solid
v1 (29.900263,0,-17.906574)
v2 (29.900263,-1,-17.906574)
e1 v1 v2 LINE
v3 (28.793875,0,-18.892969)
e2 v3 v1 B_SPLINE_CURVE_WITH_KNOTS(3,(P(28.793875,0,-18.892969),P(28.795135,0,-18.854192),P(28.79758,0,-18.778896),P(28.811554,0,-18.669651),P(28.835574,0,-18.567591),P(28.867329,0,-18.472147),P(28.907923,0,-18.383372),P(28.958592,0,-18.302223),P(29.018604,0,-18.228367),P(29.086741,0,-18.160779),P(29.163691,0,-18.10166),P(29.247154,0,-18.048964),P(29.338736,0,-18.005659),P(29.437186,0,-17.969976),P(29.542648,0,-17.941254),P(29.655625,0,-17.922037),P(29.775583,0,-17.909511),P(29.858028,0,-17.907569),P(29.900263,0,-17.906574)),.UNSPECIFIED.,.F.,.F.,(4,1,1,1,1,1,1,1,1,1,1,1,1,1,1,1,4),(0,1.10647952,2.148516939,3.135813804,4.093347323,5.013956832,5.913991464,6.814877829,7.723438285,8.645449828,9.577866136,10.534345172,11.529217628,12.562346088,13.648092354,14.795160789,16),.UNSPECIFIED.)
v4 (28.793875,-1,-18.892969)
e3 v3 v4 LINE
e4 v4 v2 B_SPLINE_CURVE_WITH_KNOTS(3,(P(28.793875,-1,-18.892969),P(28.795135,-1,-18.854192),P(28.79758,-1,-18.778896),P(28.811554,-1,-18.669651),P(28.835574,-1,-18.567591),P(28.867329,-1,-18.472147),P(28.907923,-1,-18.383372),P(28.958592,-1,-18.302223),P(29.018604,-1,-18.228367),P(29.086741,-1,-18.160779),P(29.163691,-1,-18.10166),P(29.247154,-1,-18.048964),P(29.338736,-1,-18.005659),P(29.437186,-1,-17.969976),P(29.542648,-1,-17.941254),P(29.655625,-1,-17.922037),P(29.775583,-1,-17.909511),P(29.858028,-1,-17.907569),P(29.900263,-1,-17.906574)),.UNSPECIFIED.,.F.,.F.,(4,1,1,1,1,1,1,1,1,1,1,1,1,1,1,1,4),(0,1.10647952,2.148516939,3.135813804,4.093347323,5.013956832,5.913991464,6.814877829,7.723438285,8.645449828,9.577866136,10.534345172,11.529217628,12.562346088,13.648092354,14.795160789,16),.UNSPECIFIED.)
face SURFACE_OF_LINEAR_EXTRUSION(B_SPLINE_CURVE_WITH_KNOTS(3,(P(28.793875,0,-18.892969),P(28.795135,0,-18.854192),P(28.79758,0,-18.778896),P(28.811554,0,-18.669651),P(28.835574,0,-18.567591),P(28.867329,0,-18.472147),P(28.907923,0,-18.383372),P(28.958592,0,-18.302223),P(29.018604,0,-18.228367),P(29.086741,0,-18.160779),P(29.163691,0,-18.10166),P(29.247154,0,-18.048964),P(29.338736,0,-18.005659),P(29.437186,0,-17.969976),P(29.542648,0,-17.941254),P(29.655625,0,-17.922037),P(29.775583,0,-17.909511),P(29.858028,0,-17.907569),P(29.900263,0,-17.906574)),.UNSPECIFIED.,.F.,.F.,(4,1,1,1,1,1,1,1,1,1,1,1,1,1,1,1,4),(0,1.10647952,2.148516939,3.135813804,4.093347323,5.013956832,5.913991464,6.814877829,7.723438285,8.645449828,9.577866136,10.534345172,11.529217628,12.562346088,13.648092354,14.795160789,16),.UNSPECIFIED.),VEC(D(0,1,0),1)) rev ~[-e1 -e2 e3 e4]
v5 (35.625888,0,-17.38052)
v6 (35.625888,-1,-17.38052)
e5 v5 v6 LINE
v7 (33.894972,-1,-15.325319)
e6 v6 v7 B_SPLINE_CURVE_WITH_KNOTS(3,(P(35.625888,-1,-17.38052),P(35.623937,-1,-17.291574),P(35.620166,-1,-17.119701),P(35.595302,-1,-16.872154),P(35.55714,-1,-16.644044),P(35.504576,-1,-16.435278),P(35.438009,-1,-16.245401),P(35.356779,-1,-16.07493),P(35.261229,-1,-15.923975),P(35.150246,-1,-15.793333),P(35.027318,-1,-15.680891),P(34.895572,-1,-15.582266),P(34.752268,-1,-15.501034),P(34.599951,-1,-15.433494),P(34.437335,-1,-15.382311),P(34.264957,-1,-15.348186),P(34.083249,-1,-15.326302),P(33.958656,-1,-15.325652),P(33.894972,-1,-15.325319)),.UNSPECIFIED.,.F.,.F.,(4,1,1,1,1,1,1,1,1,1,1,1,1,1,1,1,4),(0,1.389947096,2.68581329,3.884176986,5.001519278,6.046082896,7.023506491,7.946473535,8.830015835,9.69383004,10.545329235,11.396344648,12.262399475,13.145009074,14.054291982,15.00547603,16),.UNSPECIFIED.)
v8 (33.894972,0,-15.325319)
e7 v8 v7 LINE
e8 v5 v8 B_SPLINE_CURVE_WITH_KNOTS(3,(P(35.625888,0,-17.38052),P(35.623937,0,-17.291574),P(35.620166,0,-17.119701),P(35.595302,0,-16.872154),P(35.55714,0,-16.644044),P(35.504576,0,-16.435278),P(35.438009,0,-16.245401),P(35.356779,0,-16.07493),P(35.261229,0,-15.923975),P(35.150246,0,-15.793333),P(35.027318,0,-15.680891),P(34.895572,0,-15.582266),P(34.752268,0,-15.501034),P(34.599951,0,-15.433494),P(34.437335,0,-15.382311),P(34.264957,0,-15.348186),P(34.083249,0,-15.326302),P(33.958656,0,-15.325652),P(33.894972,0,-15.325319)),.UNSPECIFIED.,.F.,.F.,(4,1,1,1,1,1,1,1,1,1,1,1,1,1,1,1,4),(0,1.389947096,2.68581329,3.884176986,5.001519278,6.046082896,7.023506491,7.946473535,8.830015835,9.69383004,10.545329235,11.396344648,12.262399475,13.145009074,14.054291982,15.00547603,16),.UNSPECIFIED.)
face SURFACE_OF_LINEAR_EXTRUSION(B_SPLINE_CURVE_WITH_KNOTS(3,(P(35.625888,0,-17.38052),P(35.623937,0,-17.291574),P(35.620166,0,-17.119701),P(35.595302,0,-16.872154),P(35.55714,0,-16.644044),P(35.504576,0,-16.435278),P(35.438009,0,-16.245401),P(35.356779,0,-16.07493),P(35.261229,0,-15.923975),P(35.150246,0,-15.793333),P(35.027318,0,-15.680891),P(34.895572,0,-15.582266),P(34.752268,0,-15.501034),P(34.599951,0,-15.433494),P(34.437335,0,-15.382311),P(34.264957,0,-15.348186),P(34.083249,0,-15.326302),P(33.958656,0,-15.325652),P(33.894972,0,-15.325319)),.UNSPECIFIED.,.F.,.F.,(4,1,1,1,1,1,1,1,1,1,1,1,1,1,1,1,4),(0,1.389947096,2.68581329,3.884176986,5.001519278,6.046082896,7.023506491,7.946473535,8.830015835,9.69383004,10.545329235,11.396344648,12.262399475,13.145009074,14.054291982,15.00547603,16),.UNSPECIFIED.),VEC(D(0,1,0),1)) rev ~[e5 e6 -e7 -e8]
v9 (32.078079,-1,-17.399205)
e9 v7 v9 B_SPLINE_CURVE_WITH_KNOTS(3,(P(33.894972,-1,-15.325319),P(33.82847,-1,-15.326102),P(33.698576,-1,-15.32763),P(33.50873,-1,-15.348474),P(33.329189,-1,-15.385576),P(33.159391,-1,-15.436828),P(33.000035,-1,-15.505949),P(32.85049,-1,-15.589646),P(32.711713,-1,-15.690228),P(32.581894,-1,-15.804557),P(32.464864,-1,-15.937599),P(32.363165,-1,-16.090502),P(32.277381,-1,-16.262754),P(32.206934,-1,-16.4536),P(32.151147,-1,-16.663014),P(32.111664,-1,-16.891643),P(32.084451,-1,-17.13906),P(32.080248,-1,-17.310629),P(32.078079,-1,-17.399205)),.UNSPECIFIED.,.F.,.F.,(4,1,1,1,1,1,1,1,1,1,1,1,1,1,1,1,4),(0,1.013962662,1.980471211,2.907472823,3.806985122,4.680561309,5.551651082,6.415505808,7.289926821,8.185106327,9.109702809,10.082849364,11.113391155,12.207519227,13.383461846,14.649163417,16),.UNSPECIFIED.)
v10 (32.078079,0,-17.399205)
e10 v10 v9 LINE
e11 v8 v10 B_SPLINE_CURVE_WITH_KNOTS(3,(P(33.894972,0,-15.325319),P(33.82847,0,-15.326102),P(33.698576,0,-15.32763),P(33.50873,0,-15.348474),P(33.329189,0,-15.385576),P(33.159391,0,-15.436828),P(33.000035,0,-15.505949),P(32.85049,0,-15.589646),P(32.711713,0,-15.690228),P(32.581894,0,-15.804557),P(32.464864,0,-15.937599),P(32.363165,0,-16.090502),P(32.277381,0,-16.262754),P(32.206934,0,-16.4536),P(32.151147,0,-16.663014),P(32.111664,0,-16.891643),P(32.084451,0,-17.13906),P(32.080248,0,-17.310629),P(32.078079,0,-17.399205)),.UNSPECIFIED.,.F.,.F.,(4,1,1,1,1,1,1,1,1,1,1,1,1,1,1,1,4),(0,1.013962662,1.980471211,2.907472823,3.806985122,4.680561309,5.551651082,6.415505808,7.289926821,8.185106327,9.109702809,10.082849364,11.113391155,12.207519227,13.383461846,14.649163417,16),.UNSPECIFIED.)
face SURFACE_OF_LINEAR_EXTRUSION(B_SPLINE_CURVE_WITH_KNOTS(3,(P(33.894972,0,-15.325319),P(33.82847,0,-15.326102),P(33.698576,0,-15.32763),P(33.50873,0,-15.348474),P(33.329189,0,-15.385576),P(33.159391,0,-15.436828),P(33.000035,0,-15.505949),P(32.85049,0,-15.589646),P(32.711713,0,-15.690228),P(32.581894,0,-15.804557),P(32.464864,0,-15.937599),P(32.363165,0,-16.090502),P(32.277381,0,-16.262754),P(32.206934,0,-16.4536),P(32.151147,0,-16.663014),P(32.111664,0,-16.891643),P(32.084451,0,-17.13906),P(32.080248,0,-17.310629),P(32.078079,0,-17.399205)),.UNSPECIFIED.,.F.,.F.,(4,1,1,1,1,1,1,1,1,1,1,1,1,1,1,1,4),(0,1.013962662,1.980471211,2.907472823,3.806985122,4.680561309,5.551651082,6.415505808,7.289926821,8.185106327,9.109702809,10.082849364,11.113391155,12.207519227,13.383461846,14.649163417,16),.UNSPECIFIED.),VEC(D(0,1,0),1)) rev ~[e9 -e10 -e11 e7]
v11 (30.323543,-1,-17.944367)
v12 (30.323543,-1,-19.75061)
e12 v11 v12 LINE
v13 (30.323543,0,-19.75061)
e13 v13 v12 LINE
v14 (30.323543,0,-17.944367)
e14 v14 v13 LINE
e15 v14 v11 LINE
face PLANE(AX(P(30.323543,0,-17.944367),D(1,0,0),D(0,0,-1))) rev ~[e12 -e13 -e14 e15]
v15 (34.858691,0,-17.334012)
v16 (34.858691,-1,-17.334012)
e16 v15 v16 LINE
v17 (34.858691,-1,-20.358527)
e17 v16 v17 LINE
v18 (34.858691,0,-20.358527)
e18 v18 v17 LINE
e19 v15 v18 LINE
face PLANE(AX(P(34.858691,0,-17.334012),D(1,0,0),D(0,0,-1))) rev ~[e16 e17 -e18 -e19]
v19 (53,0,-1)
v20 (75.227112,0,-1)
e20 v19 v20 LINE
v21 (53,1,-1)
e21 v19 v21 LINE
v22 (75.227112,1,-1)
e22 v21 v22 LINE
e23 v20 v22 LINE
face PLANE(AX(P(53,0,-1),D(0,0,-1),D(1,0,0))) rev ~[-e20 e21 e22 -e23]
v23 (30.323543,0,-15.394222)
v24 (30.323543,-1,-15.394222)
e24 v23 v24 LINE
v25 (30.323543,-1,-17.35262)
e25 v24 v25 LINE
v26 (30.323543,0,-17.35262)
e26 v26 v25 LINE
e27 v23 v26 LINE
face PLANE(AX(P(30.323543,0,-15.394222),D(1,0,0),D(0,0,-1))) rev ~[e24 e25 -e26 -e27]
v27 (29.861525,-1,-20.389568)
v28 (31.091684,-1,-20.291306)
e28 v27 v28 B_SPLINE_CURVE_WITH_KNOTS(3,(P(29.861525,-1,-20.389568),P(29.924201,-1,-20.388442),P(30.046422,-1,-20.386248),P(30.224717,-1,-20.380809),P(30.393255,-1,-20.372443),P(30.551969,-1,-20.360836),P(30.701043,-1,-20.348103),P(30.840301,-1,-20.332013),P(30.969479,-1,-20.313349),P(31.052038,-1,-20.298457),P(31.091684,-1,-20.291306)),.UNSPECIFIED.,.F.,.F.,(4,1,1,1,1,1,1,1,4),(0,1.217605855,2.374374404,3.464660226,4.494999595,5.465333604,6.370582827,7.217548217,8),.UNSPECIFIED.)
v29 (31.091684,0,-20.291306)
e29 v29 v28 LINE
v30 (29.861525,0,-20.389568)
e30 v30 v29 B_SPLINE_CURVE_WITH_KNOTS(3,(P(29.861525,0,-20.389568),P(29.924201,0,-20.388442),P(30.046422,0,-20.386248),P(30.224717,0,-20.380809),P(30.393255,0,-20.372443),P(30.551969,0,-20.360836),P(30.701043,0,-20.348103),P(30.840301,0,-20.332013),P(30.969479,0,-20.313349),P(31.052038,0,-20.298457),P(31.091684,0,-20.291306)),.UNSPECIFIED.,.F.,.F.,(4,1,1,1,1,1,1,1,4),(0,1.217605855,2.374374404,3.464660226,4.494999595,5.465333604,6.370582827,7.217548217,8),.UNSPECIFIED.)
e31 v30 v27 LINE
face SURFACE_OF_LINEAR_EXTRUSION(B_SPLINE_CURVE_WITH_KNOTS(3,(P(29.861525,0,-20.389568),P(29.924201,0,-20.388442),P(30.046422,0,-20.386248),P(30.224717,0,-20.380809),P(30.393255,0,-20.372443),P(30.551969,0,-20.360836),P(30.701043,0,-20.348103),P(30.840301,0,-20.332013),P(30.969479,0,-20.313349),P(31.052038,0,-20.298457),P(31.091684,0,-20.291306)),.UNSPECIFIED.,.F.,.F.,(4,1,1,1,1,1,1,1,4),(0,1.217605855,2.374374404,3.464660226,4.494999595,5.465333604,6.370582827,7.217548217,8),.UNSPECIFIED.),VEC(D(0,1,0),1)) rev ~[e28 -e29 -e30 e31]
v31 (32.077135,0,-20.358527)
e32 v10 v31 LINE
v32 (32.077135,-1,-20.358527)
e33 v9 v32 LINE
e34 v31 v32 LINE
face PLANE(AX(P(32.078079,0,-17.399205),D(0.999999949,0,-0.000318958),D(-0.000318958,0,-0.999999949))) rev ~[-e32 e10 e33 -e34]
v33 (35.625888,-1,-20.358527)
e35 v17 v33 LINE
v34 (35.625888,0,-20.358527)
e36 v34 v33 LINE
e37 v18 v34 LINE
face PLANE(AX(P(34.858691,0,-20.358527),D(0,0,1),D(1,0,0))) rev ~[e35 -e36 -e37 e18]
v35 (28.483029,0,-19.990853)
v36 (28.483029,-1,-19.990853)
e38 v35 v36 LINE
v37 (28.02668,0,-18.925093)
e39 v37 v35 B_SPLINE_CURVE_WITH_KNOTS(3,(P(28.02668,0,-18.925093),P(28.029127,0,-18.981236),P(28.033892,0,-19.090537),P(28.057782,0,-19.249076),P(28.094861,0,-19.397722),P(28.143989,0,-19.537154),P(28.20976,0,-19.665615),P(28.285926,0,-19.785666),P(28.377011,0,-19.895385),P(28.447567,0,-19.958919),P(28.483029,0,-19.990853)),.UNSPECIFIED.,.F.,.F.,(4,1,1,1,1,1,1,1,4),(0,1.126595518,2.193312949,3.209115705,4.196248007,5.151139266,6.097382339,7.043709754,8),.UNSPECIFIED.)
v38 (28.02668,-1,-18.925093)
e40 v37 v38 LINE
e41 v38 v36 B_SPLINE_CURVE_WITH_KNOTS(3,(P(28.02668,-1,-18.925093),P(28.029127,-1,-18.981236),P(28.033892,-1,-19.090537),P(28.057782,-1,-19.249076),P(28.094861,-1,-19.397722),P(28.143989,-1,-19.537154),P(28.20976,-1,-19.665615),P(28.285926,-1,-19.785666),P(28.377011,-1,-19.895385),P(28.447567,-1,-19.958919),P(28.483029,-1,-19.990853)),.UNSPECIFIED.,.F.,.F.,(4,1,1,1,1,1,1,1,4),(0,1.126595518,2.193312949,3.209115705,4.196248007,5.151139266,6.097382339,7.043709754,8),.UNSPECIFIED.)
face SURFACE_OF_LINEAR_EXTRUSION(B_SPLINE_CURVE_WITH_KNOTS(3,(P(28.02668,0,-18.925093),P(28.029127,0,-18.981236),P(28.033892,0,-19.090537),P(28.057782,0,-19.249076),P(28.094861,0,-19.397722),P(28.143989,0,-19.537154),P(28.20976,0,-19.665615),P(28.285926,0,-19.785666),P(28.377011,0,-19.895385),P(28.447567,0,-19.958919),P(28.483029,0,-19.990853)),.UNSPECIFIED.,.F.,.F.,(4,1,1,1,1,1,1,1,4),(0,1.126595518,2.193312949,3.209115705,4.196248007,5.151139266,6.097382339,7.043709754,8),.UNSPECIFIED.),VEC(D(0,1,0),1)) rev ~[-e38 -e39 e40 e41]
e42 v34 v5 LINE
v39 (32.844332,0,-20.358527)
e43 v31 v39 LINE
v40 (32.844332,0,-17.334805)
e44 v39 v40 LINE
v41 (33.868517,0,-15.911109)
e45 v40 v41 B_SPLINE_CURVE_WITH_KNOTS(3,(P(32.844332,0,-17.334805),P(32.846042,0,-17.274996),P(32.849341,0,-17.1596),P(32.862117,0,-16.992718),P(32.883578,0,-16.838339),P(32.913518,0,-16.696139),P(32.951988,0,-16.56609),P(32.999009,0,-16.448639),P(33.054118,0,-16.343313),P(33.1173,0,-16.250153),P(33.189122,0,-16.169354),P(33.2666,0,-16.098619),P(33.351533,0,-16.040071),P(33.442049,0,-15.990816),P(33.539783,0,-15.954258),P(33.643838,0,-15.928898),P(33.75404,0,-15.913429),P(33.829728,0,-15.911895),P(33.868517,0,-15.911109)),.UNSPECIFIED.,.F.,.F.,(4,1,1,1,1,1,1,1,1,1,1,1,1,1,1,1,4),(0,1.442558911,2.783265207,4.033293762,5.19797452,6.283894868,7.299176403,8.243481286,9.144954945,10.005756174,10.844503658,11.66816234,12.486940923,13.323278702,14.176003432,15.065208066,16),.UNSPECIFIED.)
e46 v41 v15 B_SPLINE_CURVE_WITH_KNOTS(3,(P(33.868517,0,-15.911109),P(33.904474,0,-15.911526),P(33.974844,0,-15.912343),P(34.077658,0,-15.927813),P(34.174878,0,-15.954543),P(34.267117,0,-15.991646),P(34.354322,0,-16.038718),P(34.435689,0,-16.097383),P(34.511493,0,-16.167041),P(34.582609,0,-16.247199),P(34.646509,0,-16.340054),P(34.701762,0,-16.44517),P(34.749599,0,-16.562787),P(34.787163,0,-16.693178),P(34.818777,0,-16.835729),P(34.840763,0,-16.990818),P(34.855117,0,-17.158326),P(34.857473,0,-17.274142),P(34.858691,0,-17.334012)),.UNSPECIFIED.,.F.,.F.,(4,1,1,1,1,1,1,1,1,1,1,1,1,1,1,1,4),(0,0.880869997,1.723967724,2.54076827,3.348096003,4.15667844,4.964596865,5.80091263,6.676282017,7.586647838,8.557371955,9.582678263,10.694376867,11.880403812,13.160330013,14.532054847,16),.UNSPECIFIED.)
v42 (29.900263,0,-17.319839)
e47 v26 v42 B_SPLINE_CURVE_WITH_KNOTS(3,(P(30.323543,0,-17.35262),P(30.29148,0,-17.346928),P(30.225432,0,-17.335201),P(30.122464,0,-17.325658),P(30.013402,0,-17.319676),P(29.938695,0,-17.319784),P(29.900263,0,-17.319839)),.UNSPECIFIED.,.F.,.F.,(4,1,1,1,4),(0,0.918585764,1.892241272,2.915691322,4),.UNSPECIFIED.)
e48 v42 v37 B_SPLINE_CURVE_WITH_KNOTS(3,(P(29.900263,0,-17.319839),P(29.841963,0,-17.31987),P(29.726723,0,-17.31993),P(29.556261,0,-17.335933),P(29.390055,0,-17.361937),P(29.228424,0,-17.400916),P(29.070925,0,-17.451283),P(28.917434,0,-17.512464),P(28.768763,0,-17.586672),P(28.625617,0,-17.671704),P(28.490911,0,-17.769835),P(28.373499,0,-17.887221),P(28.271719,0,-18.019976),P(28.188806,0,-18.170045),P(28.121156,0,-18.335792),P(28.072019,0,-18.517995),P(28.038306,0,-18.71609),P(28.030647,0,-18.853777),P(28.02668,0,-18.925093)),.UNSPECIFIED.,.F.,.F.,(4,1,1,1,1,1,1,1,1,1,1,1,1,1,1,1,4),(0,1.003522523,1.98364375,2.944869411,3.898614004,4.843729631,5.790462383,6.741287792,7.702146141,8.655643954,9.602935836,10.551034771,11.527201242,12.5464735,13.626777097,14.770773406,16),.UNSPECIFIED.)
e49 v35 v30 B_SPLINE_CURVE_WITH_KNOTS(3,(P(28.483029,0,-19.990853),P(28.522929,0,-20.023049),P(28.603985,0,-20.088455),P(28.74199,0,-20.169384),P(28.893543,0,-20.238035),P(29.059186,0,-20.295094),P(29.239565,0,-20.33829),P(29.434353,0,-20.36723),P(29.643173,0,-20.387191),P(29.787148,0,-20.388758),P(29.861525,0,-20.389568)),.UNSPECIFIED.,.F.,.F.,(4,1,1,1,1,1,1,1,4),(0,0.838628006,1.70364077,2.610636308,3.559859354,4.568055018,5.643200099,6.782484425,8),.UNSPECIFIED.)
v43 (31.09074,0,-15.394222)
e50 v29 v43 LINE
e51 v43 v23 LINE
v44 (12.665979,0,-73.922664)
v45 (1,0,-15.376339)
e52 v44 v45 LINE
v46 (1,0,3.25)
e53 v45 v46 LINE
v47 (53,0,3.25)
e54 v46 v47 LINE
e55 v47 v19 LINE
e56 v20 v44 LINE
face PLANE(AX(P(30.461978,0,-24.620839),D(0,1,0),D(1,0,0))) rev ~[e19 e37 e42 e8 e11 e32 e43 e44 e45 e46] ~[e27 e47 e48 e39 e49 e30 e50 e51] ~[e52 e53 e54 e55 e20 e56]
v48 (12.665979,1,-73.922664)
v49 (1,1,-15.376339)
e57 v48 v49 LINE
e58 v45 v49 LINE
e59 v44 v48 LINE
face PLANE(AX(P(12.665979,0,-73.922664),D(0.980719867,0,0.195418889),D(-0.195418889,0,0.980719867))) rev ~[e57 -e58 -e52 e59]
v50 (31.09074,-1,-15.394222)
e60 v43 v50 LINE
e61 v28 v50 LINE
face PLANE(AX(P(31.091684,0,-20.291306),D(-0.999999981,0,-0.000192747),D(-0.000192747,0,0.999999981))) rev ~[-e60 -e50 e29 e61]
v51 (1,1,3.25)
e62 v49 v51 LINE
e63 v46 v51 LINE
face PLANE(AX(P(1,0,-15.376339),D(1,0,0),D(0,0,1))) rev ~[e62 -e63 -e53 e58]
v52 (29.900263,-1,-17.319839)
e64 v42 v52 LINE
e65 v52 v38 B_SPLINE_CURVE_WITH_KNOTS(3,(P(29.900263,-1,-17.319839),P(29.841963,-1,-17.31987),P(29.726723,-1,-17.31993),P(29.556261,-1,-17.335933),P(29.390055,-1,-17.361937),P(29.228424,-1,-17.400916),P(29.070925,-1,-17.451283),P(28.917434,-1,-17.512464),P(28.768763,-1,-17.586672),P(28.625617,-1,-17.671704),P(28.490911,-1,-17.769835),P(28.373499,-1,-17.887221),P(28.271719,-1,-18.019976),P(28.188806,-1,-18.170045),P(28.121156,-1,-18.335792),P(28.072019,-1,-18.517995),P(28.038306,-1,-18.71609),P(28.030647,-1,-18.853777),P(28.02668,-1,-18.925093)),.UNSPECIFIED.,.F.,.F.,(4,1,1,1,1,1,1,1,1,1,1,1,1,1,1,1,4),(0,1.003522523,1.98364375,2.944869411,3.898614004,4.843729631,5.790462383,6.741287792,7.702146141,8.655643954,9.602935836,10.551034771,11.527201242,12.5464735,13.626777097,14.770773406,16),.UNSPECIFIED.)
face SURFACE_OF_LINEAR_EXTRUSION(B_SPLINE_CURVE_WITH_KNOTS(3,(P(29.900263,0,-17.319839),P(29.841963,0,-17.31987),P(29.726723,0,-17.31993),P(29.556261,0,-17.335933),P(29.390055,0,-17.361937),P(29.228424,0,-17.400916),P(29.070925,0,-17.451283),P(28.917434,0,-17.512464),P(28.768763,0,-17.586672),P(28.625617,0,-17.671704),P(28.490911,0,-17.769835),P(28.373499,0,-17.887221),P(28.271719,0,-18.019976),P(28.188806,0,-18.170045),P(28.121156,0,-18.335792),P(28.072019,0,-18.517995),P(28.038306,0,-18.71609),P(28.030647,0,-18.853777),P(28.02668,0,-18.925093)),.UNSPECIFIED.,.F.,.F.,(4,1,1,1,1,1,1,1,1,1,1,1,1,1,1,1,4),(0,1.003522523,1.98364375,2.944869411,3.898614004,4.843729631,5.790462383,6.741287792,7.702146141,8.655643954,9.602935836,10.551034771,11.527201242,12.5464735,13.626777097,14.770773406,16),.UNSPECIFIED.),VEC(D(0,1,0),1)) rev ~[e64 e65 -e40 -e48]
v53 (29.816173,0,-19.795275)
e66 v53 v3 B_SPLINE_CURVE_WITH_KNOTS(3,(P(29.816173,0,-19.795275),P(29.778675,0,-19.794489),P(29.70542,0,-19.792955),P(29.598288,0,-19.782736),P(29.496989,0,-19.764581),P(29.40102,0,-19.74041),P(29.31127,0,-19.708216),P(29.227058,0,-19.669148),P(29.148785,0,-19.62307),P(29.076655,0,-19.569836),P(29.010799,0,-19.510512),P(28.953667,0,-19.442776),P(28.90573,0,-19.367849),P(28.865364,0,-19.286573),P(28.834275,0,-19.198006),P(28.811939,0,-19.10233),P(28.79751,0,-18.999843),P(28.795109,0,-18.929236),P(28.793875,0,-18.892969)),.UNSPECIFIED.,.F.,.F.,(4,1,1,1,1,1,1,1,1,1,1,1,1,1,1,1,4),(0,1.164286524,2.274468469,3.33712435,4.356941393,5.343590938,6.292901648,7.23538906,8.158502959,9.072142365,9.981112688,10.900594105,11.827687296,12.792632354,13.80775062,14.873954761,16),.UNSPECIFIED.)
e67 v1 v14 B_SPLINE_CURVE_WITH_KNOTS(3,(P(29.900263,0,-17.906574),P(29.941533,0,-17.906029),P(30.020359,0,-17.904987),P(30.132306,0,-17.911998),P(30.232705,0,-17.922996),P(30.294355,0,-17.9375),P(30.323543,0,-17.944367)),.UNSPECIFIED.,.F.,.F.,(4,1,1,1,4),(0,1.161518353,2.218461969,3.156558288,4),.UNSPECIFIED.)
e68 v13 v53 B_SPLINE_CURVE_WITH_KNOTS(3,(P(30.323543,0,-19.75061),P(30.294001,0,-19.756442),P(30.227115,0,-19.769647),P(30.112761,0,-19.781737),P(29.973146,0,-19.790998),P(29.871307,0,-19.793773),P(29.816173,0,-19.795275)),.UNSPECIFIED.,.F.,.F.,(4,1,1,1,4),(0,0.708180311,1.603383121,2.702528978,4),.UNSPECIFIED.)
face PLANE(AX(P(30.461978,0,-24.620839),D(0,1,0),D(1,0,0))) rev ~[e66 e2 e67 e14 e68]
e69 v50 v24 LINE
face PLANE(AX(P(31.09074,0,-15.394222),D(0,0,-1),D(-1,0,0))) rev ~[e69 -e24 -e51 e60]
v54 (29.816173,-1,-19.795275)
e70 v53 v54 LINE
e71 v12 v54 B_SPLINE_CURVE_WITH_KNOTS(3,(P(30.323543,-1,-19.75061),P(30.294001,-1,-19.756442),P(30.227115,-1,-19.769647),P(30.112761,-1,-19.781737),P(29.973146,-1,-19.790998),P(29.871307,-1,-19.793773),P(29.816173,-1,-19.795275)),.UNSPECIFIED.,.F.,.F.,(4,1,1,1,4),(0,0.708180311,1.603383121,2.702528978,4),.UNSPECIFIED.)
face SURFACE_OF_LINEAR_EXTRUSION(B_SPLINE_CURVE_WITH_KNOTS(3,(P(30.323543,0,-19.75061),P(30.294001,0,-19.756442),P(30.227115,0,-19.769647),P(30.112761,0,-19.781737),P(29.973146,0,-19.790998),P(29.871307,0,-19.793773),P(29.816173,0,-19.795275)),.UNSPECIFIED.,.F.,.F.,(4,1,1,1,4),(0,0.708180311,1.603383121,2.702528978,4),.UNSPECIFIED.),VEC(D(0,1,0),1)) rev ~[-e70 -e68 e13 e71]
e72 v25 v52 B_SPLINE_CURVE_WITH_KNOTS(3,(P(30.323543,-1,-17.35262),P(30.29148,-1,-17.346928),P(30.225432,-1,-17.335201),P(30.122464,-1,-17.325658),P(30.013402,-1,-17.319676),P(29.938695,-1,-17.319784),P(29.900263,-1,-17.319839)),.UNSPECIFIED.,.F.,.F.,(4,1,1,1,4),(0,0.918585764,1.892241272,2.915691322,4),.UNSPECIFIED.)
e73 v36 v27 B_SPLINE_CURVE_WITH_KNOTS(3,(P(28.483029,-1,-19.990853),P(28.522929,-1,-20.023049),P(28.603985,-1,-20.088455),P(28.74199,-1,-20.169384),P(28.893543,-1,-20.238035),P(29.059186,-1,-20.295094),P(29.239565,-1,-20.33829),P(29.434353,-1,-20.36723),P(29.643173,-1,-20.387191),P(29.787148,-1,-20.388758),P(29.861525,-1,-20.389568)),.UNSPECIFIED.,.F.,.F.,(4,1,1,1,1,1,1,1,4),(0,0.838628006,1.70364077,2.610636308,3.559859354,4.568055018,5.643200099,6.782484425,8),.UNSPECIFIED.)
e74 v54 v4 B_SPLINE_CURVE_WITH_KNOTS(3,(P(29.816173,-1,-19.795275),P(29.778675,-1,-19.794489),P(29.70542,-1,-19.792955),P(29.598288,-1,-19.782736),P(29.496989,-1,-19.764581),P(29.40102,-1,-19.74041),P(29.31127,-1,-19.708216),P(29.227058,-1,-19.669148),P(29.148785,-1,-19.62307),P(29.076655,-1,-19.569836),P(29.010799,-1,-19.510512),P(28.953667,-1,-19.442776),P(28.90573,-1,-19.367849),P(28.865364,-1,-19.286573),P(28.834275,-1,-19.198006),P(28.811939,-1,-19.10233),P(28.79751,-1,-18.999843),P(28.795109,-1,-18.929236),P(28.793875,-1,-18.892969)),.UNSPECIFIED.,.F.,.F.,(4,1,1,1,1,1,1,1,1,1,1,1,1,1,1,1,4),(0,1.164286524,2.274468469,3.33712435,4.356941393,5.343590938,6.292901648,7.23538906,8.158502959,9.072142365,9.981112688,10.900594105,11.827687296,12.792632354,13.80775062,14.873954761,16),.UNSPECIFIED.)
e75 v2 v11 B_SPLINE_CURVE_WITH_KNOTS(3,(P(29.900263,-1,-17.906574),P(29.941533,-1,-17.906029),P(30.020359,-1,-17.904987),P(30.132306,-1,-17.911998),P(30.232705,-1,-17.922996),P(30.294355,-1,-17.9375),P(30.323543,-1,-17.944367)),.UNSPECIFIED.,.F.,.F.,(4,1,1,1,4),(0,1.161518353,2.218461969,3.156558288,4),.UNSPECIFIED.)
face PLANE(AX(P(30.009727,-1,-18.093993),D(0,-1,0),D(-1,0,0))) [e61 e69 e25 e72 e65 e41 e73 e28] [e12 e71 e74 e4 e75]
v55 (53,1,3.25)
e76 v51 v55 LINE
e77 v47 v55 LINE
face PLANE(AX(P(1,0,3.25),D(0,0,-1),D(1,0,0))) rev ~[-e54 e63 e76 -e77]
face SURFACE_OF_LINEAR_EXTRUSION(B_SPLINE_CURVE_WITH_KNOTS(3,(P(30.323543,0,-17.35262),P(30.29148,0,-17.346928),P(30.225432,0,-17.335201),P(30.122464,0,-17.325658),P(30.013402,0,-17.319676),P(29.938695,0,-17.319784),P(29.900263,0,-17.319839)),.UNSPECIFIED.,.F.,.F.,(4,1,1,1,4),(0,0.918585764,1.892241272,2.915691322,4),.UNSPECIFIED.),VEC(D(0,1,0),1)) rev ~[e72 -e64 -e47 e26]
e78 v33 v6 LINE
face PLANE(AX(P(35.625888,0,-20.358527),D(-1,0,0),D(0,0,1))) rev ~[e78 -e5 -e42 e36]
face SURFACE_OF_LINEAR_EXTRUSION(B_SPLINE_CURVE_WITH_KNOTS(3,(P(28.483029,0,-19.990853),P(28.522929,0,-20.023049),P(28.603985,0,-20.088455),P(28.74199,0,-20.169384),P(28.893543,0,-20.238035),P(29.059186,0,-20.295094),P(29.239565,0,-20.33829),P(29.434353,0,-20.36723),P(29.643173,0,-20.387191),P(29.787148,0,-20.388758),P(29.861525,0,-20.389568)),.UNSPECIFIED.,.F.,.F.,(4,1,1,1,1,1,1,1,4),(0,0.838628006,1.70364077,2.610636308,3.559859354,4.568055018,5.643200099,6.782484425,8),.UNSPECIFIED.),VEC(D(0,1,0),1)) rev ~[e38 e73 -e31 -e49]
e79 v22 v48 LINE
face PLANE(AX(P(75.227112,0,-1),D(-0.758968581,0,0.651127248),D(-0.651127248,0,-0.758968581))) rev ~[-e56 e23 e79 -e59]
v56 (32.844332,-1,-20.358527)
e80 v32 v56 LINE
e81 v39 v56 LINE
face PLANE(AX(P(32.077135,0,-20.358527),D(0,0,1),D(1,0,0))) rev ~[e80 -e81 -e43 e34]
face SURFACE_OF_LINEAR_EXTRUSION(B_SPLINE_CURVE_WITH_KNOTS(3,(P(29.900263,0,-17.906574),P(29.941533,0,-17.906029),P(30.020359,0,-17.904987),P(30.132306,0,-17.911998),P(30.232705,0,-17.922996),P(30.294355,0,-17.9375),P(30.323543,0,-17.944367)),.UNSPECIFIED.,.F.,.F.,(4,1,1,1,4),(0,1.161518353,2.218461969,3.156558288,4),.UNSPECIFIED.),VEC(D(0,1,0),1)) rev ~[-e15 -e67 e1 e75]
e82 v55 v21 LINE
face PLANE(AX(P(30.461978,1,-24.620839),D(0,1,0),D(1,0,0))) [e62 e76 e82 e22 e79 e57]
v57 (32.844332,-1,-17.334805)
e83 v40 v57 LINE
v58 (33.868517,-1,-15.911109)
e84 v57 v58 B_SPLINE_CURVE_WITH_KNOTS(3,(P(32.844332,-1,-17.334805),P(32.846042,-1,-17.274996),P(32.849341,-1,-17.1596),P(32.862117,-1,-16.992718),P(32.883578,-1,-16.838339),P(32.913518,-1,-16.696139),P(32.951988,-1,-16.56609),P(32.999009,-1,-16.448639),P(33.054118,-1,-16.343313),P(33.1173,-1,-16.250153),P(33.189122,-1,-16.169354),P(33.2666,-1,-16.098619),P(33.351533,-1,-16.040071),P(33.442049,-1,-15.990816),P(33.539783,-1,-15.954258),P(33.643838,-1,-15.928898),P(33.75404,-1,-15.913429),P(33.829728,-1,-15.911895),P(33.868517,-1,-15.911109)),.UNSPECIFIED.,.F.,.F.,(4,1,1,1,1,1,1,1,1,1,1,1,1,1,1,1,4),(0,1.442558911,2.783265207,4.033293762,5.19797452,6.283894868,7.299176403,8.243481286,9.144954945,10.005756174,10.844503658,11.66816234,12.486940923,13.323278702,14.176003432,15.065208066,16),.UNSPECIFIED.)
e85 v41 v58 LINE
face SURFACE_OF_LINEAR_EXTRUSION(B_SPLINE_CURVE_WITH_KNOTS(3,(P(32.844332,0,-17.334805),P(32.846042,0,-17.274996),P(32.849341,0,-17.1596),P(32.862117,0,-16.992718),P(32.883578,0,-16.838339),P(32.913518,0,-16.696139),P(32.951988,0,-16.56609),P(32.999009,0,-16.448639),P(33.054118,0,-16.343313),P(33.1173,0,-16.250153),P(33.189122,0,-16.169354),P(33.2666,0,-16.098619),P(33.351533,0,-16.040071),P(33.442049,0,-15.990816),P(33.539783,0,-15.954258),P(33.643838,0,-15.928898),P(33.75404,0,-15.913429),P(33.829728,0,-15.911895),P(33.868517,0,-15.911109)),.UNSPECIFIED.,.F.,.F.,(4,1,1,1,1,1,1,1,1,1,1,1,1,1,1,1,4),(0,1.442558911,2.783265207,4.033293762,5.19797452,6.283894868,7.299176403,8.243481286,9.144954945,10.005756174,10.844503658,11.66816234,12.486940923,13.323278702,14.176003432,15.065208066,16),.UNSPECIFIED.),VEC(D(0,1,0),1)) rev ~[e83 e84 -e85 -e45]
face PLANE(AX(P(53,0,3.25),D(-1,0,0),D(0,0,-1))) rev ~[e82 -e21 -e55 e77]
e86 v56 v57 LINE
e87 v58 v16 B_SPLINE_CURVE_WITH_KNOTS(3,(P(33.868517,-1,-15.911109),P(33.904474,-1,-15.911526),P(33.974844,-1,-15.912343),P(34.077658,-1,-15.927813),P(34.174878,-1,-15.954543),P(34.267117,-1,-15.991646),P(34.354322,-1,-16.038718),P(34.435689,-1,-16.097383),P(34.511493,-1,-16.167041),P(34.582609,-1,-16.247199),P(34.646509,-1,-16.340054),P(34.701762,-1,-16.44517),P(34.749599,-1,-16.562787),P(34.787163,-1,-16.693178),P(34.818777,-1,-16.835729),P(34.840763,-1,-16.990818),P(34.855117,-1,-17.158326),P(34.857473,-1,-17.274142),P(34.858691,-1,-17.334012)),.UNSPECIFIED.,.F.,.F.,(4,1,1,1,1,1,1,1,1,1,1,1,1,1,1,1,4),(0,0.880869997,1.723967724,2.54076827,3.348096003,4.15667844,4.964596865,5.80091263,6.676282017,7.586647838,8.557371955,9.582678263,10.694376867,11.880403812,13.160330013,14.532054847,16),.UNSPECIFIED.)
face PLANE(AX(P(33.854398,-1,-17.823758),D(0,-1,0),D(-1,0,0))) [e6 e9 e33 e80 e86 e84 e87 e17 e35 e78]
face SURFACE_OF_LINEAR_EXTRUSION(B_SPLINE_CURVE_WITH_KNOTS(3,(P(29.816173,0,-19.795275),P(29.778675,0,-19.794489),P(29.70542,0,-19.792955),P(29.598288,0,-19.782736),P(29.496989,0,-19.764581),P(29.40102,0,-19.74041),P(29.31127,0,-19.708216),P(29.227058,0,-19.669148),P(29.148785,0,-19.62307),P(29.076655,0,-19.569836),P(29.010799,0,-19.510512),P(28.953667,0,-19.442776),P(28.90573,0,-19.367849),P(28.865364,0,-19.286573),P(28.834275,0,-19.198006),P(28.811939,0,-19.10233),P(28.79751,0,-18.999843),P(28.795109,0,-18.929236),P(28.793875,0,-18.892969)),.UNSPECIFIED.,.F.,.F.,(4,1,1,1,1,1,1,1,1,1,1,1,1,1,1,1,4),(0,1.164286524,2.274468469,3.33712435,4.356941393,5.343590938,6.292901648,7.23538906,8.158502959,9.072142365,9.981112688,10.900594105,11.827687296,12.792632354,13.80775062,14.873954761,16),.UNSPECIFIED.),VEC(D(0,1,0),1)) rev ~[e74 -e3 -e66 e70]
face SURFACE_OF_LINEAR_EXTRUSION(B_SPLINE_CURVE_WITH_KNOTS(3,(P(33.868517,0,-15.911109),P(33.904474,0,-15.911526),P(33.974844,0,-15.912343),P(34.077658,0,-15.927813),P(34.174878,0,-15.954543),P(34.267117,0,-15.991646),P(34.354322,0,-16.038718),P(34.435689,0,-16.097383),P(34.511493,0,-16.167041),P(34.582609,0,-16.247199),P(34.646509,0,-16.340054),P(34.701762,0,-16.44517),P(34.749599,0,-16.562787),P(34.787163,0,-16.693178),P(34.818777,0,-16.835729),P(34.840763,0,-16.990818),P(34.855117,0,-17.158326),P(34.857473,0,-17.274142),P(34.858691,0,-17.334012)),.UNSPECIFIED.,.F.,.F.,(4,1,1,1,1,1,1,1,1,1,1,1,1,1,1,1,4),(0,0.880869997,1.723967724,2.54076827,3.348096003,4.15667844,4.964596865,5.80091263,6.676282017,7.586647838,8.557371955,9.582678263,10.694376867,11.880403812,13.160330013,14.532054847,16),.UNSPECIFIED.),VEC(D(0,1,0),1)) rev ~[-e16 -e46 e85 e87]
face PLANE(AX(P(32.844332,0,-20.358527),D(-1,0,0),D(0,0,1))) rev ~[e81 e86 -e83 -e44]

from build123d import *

# Parameters (mm, degrees)
EXTRUDE_1_DEPTH = 1
EXTRUDE_2_DEPTH = 1


with BuildPart() as part:
    # 草图1 → 凸台-拉伸1 (new body)
    with BuildSketch(Plane(origin=(0, 0, 0), x_dir=(1, 0, 0), z_dir=(0, 1, 0))):
        Polygon((12.66597943, 73.92266442), (1, 15.376339461), (1, -3.25), (53, -3.25), (53, 1), (75.227111726, 1), align=None)
    extrude(amount=EXTRUDE_1_DEPTH)

    # 草图2 → 凸台-拉伸2 (add)
    # profile 1 of 2: a face of its own
    with BuildSketch(Plane(origin=(0, 0, 0), x_dir=(1, 0, 0), z_dir=(0, 1, 0))):
        with BuildLine():
            Line((31.090740008, 15.394221889), (30.323543176, 15.394221889))
            Line((30.323543176, 15.394221889), (30.323543176, 17.352620355))
            add(Edge.make_bspline(
                [(30.323543176, 17.352620355), (30.291480188, 17.346927632), (30.225432017, 17.335200902), (30.122464474, 17.325658206), (30.013401991, 17.319675849), (29.938694803, 17.319783871), (29.900262675, 17.319839442)],
                knots=[0, 0, 0, 0, 0.918585764, 1.892241272, 2.915691322, 4, 4, 4, 4], degree=3))
            add(Edge.make_bspline(
                [(29.900262675, 17.319839442), (29.841962947, 17.319869767), (29.726722993, 17.319929711), (29.556261285, 17.335932691), (29.390055361, 17.361937179), (29.228423578, 17.400915644), (29.070924954, 17.451283461), (28.917434146, 17.512464376), (28.768763104, 17.586671732), (28.62561681, 17.671704257), (28.490911455, 17.769835394), (28.373499458, 17.887220571), (28.271718538, 18.019975809), (28.188806413, 18.170044776), (28.12115622, 18.335792286), (28.072018776, 18.517995324), (28.038306105, 18.716089526), (28.030646768, 18.853776873), (28.026679563, 18.925092951)],
                knots=[0, 0, 0, 0, 1.003522523, 1.98364375, 2.944869411, 3.898614004, 4.843729631, 5.790462383, 6.741287792, 7.702146141, 8.655643954, 9.602935836, 10.551034771, 11.527201242, 12.5464735, 13.626777097, 14.770773406, 16, 16, 16, 16], degree=3))
            add(Edge.make_bspline(
                [(28.026679563, 18.925092951), (28.029126999, 18.981235603), (28.033891792, 19.09053695), (28.057781565, 19.249075834), (28.094861108, 19.397722477), (28.143989367, 19.537154386), (28.209760487, 19.66561534), (28.285926292, 19.785665607), (28.377011339, 19.895385017), (28.447566531, 19.958919299), (28.483028853, 19.990852784)],
                knots=[0, 0, 0, 0, 1.126595518, 2.193312949, 3.209115705, 4.196248007, 5.151139266, 6.097382339, 7.043709754, 8, 8, 8, 8], degree=3))
            add(Edge.make_bspline(
                [(28.483028853, 19.990852784), (28.522929015, 20.023049122), (28.603984669, 20.088454754), (28.741989665, 20.169383539), (28.893542525, 20.238034743), (29.059185588, 20.295093718), (29.239564674, 20.338290061), (29.434352813, 20.367230207), (29.64317297, 20.387190847), (29.787147929, 20.388758207), (29.861524951, 20.3895679)],
                knots=[0, 0, 0, 0, 0.838628006, 1.70364077, 2.610636308, 3.559859354, 4.568055018, 5.643200099, 6.782484425, 8, 8, 8, 8], degree=3))
            add(Edge.make_bspline(
                [(29.861524951, 20.3895679), (29.924201068, 20.388442465), (30.046421709, 20.386247828), (30.224716607, 20.380809359), (30.393254737, 20.372443419), (30.551968816, 20.360836156), (30.701043327, 20.348103258), (30.840301091, 20.33201309), (30.969478734, 20.313349379), (31.052038447, 20.298457491), (31.091683908, 20.291306355)],
                knots=[0, 0, 0, 0, 1.217605855, 2.374374404, 3.464660226, 4.494999595, 5.465333604, 6.370582827, 7.217548217, 8, 8, 8, 8], degree=3))
            Line((31.091683908, 20.291306355), (31.090740008, 15.394221889))
        make_face()
        with BuildLine():
            add(Edge.make_bspline(
                [(30.323543176, 19.750609507), (30.294001104, 19.756441871), (30.227115227, 19.76964686), (30.11276139, 19.781736761), (29.973146382, 19.790998313), (29.871306917, 19.79377259), (29.816173468, 19.795274517)],
                knots=[0, 0, 0, 0, 0.708180311, 1.603383121, 2.702528978, 4, 4, 4, 4], degree=3))
            add(Edge.make_bspline(
                [(29.816173468, 19.795274517), (29.778674753, 19.794489016), (29.705419893, 19.792954518), (29.598288212, 19.782736487), (29.496988537, 19.764581207), (29.401019543, 19.740409824), (29.311269908, 19.708215699), (29.227058284, 19.669148461), (29.148784868, 19.623070355), (29.076655109, 19.569835898), (29.010798742, 19.510512464), (28.953667436, 19.442775826), (28.905730333, 19.367849012), (28.86536387, 19.286573026), (28.83427513, 19.198006126), (28.811939273, 19.102330333), (28.797510474, 18.999843052), (28.79510899, 18.929236118), (28.793875472, 18.892968984)],
                knots=[0, 0, 0, 0, 1.164286524, 2.274468469, 3.33712435, 4.356941393, 5.343590938, 6.292901648, 7.23538906, 8.158502959, 9.072142365, 9.981112688, 10.900594105, 11.827687296, 12.792632354, 13.80775062, 14.873954761, 16, 16, 16, 16], degree=3))
            add(Edge.make_bspline(
                [(28.793875472, 18.892968984), (28.795134881, 18.854191832), (28.797580351, 18.778895935), (28.811554204, 18.669650618), (28.835574304, 18.567590725), (28.867328792, 18.472146789), (28.907923347, 18.383372416), (28.95859169, 18.302223365), (29.018603775, 18.228366562), (29.086740761, 18.16077878), (29.163691225, 18.101659974), (29.247154269, 18.048964292), (29.338736059, 18.005658508), (29.437186031, 17.969976467), (29.54264825, 17.941254338), (29.655625397, 17.922037488), (29.775583455, 17.909511306), (29.858027897, 17.907569166), (29.900262675, 17.906574244)],
                knots=[0, 0, 0, 0, 1.10647952, 2.148516939, 3.135813804, 4.093347323, 5.013956832, 5.913991464, 6.814877829, 7.723438285, 8.645449828, 9.577866136, 10.534345172, 11.529217628, 12.562346088, 13.648092354, 14.795160789, 16, 16, 16, 16], degree=3))
            add(Edge.make_bspline(
                [(29.900262675, 17.906574244), (29.941533493, 17.906028809), (30.020359402, 17.904987046), (30.132306289, 17.911998092), (30.23270458, 17.922996362), (30.294355499, 17.937500422), (30.323543176, 17.944367146)],
                knots=[0, 0, 0, 0, 1.161518353, 2.218461969, 3.156558288, 4, 4, 4, 4], degree=3))
            Line((30.323543176, 17.944367146), (30.323543176, 19.750609507))
        make_face(mode=Mode.SUBTRACT)
    # profile 2 of 2: a face of its own
    with BuildSketch(Plane(origin=(0, 0, 0), x_dir=(1, 0, 0), z_dir=(0, 1, 0))):
        with BuildLine():
            Line((32.077134748, 20.358527157), (32.844331579, 20.358527157))
            Line((32.844331579, 20.358527157), (32.844331579, 17.334805283))
            add(Edge.make_bspline(
                [(32.844331579, 17.334805283), (32.846041524, 17.274995945), (32.849340681, 17.159600138), (32.862116571, 16.992717533), (32.883577596, 16.838338831), (32.913517977, 16.696138778), (32.951987807, 16.566089797), (32.999008574, 16.448639235), (33.054117718, 16.34331339), (33.117299737, 16.250152646), (33.189122104, 16.169354435), (33.266600201, 16.098618835), (33.351533105, 16.040070587), (33.442049228, 15.99081552), (33.539783431, 15.954258392), (33.643837974, 15.928897808), (33.754040259, 15.91342912), (33.829727782, 15.911895168), (33.868517376, 15.911109023)],
                knots=[0, 0, 0, 0, 1.442558911, 2.783265207, 4.033293762, 5.19797452, 6.283894868, 7.299176403, 8.243481286, 9.144954945, 10.005756174, 10.844503658, 11.66816234, 12.486940923, 13.323278702, 14.176003432, 15.065208066, 16, 16, 16, 16], degree=3))
            add(Edge.make_bspline(
                [(33.868517376, 15.911109023), (33.904473646, 15.911526383), (33.97484436, 15.912343207), (34.077658287, 15.92781335), (34.174878032, 15.954543092), (34.267116792, 15.991646317), (34.354322253, 16.038718034), (34.435688698, 16.097382655), (34.511493017, 16.167040691), (34.582608735, 16.247198802), (34.646508679, 16.340053843), (34.701762221, 16.445170296), (34.749598601, 16.562786913), (34.787162737, 16.693178193), (34.818776759, 16.835728654), (34.84076289, 16.990817804), (34.855116558, 17.158326046), (34.857473172, 17.274141756), (34.858691406, 17.33401178)],
                knots=[0, 0, 0, 0, 0.880869997, 1.723967724, 2.54076827, 3.348096003, 4.15667844, 4.964596865, 5.80091263, 6.676282017, 7.586647838, 8.557371955, 9.582678263, 10.694376867, 11.880403812, 13.160330013, 14.532054847, 16, 16, 16, 16], degree=3))
            Line((34.858691406, 17.33401178), (34.858691406, 20.358527157))
            Line((34.858691406, 20.358527157), (35.625888237, 20.358527157))
            Line((35.625888237, 20.358527157), (35.625888237, 17.380520301))
            add(Edge.make_bspline(
                [(35.625888237, 17.380520301), (35.623936714, 17.291573771), (35.620165761, 17.119701207), (35.595302232, 16.872154063), (35.557140127, 16.644043754), (35.504575812, 16.435278366), (35.438009439, 16.245400882), (35.356778606, 16.074929633), (35.261228593, 15.923975043), (35.150246411, 15.793333485), (35.02731822, 15.680891375), (34.895571803, 15.582265655), (34.752268142, 15.501033739), (34.599951136, 15.43349429), (34.437335243, 15.382310688), (34.264956857, 15.348185822), (34.083249013, 15.326302213), (33.958656361, 15.325651598), (33.894972407, 15.325319044)],
                knots=[0, 0, 0, 0, 1.389947096, 2.68581329, 3.884176986, 5.001519278, 6.046082896, 7.023506491, 7.946473535, 8.830015835, 9.69383004, 10.545329235, 11.396344648, 12.262399475, 13.145009074, 14.054291982, 15.00547603, 16, 16, 16, 16], degree=3))
            add(Edge.make_bspline(
                [(33.894972407, 15.325319044), (33.828469528, 15.326101711), (33.698576147, 15.327630415), (33.508729563, 15.348474132), (33.329189291, 15.385576465), (33.159391405, 15.436827956), (33.000035358, 15.505949179), (32.850490052, 15.58964615), (32.711713219, 15.690227791), (32.581893571, 15.804556755), (32.464864256, 15.937598686), (32.363164513, 16.09050188), (32.277381449, 16.262754247), (32.206934074, 16.45360011), (32.151146625, 16.663013971), (32.111664078, 16.891642935), (32.084450881, 17.139060264), (32.080248305, 17.310628986), (32.078078648, 17.399204536)],
                knots=[0, 0, 0, 0, 1.013962662, 1.980471211, 2.907472823, 3.806985122, 4.680561309, 5.551651082, 6.415505808, 7.289926821, 8.185106327, 9.109702809, 10.082849364, 11.113391155, 12.207519227, 13.383461846, 14.649163417, 16, 16, 16, 16], degree=3))
            Line((32.078078648, 17.399204536), (32.077134748, 20.358527157))
        make_face()
    extrude(amount=-EXTRUDE_2_DEPTH)


solid = part.part
